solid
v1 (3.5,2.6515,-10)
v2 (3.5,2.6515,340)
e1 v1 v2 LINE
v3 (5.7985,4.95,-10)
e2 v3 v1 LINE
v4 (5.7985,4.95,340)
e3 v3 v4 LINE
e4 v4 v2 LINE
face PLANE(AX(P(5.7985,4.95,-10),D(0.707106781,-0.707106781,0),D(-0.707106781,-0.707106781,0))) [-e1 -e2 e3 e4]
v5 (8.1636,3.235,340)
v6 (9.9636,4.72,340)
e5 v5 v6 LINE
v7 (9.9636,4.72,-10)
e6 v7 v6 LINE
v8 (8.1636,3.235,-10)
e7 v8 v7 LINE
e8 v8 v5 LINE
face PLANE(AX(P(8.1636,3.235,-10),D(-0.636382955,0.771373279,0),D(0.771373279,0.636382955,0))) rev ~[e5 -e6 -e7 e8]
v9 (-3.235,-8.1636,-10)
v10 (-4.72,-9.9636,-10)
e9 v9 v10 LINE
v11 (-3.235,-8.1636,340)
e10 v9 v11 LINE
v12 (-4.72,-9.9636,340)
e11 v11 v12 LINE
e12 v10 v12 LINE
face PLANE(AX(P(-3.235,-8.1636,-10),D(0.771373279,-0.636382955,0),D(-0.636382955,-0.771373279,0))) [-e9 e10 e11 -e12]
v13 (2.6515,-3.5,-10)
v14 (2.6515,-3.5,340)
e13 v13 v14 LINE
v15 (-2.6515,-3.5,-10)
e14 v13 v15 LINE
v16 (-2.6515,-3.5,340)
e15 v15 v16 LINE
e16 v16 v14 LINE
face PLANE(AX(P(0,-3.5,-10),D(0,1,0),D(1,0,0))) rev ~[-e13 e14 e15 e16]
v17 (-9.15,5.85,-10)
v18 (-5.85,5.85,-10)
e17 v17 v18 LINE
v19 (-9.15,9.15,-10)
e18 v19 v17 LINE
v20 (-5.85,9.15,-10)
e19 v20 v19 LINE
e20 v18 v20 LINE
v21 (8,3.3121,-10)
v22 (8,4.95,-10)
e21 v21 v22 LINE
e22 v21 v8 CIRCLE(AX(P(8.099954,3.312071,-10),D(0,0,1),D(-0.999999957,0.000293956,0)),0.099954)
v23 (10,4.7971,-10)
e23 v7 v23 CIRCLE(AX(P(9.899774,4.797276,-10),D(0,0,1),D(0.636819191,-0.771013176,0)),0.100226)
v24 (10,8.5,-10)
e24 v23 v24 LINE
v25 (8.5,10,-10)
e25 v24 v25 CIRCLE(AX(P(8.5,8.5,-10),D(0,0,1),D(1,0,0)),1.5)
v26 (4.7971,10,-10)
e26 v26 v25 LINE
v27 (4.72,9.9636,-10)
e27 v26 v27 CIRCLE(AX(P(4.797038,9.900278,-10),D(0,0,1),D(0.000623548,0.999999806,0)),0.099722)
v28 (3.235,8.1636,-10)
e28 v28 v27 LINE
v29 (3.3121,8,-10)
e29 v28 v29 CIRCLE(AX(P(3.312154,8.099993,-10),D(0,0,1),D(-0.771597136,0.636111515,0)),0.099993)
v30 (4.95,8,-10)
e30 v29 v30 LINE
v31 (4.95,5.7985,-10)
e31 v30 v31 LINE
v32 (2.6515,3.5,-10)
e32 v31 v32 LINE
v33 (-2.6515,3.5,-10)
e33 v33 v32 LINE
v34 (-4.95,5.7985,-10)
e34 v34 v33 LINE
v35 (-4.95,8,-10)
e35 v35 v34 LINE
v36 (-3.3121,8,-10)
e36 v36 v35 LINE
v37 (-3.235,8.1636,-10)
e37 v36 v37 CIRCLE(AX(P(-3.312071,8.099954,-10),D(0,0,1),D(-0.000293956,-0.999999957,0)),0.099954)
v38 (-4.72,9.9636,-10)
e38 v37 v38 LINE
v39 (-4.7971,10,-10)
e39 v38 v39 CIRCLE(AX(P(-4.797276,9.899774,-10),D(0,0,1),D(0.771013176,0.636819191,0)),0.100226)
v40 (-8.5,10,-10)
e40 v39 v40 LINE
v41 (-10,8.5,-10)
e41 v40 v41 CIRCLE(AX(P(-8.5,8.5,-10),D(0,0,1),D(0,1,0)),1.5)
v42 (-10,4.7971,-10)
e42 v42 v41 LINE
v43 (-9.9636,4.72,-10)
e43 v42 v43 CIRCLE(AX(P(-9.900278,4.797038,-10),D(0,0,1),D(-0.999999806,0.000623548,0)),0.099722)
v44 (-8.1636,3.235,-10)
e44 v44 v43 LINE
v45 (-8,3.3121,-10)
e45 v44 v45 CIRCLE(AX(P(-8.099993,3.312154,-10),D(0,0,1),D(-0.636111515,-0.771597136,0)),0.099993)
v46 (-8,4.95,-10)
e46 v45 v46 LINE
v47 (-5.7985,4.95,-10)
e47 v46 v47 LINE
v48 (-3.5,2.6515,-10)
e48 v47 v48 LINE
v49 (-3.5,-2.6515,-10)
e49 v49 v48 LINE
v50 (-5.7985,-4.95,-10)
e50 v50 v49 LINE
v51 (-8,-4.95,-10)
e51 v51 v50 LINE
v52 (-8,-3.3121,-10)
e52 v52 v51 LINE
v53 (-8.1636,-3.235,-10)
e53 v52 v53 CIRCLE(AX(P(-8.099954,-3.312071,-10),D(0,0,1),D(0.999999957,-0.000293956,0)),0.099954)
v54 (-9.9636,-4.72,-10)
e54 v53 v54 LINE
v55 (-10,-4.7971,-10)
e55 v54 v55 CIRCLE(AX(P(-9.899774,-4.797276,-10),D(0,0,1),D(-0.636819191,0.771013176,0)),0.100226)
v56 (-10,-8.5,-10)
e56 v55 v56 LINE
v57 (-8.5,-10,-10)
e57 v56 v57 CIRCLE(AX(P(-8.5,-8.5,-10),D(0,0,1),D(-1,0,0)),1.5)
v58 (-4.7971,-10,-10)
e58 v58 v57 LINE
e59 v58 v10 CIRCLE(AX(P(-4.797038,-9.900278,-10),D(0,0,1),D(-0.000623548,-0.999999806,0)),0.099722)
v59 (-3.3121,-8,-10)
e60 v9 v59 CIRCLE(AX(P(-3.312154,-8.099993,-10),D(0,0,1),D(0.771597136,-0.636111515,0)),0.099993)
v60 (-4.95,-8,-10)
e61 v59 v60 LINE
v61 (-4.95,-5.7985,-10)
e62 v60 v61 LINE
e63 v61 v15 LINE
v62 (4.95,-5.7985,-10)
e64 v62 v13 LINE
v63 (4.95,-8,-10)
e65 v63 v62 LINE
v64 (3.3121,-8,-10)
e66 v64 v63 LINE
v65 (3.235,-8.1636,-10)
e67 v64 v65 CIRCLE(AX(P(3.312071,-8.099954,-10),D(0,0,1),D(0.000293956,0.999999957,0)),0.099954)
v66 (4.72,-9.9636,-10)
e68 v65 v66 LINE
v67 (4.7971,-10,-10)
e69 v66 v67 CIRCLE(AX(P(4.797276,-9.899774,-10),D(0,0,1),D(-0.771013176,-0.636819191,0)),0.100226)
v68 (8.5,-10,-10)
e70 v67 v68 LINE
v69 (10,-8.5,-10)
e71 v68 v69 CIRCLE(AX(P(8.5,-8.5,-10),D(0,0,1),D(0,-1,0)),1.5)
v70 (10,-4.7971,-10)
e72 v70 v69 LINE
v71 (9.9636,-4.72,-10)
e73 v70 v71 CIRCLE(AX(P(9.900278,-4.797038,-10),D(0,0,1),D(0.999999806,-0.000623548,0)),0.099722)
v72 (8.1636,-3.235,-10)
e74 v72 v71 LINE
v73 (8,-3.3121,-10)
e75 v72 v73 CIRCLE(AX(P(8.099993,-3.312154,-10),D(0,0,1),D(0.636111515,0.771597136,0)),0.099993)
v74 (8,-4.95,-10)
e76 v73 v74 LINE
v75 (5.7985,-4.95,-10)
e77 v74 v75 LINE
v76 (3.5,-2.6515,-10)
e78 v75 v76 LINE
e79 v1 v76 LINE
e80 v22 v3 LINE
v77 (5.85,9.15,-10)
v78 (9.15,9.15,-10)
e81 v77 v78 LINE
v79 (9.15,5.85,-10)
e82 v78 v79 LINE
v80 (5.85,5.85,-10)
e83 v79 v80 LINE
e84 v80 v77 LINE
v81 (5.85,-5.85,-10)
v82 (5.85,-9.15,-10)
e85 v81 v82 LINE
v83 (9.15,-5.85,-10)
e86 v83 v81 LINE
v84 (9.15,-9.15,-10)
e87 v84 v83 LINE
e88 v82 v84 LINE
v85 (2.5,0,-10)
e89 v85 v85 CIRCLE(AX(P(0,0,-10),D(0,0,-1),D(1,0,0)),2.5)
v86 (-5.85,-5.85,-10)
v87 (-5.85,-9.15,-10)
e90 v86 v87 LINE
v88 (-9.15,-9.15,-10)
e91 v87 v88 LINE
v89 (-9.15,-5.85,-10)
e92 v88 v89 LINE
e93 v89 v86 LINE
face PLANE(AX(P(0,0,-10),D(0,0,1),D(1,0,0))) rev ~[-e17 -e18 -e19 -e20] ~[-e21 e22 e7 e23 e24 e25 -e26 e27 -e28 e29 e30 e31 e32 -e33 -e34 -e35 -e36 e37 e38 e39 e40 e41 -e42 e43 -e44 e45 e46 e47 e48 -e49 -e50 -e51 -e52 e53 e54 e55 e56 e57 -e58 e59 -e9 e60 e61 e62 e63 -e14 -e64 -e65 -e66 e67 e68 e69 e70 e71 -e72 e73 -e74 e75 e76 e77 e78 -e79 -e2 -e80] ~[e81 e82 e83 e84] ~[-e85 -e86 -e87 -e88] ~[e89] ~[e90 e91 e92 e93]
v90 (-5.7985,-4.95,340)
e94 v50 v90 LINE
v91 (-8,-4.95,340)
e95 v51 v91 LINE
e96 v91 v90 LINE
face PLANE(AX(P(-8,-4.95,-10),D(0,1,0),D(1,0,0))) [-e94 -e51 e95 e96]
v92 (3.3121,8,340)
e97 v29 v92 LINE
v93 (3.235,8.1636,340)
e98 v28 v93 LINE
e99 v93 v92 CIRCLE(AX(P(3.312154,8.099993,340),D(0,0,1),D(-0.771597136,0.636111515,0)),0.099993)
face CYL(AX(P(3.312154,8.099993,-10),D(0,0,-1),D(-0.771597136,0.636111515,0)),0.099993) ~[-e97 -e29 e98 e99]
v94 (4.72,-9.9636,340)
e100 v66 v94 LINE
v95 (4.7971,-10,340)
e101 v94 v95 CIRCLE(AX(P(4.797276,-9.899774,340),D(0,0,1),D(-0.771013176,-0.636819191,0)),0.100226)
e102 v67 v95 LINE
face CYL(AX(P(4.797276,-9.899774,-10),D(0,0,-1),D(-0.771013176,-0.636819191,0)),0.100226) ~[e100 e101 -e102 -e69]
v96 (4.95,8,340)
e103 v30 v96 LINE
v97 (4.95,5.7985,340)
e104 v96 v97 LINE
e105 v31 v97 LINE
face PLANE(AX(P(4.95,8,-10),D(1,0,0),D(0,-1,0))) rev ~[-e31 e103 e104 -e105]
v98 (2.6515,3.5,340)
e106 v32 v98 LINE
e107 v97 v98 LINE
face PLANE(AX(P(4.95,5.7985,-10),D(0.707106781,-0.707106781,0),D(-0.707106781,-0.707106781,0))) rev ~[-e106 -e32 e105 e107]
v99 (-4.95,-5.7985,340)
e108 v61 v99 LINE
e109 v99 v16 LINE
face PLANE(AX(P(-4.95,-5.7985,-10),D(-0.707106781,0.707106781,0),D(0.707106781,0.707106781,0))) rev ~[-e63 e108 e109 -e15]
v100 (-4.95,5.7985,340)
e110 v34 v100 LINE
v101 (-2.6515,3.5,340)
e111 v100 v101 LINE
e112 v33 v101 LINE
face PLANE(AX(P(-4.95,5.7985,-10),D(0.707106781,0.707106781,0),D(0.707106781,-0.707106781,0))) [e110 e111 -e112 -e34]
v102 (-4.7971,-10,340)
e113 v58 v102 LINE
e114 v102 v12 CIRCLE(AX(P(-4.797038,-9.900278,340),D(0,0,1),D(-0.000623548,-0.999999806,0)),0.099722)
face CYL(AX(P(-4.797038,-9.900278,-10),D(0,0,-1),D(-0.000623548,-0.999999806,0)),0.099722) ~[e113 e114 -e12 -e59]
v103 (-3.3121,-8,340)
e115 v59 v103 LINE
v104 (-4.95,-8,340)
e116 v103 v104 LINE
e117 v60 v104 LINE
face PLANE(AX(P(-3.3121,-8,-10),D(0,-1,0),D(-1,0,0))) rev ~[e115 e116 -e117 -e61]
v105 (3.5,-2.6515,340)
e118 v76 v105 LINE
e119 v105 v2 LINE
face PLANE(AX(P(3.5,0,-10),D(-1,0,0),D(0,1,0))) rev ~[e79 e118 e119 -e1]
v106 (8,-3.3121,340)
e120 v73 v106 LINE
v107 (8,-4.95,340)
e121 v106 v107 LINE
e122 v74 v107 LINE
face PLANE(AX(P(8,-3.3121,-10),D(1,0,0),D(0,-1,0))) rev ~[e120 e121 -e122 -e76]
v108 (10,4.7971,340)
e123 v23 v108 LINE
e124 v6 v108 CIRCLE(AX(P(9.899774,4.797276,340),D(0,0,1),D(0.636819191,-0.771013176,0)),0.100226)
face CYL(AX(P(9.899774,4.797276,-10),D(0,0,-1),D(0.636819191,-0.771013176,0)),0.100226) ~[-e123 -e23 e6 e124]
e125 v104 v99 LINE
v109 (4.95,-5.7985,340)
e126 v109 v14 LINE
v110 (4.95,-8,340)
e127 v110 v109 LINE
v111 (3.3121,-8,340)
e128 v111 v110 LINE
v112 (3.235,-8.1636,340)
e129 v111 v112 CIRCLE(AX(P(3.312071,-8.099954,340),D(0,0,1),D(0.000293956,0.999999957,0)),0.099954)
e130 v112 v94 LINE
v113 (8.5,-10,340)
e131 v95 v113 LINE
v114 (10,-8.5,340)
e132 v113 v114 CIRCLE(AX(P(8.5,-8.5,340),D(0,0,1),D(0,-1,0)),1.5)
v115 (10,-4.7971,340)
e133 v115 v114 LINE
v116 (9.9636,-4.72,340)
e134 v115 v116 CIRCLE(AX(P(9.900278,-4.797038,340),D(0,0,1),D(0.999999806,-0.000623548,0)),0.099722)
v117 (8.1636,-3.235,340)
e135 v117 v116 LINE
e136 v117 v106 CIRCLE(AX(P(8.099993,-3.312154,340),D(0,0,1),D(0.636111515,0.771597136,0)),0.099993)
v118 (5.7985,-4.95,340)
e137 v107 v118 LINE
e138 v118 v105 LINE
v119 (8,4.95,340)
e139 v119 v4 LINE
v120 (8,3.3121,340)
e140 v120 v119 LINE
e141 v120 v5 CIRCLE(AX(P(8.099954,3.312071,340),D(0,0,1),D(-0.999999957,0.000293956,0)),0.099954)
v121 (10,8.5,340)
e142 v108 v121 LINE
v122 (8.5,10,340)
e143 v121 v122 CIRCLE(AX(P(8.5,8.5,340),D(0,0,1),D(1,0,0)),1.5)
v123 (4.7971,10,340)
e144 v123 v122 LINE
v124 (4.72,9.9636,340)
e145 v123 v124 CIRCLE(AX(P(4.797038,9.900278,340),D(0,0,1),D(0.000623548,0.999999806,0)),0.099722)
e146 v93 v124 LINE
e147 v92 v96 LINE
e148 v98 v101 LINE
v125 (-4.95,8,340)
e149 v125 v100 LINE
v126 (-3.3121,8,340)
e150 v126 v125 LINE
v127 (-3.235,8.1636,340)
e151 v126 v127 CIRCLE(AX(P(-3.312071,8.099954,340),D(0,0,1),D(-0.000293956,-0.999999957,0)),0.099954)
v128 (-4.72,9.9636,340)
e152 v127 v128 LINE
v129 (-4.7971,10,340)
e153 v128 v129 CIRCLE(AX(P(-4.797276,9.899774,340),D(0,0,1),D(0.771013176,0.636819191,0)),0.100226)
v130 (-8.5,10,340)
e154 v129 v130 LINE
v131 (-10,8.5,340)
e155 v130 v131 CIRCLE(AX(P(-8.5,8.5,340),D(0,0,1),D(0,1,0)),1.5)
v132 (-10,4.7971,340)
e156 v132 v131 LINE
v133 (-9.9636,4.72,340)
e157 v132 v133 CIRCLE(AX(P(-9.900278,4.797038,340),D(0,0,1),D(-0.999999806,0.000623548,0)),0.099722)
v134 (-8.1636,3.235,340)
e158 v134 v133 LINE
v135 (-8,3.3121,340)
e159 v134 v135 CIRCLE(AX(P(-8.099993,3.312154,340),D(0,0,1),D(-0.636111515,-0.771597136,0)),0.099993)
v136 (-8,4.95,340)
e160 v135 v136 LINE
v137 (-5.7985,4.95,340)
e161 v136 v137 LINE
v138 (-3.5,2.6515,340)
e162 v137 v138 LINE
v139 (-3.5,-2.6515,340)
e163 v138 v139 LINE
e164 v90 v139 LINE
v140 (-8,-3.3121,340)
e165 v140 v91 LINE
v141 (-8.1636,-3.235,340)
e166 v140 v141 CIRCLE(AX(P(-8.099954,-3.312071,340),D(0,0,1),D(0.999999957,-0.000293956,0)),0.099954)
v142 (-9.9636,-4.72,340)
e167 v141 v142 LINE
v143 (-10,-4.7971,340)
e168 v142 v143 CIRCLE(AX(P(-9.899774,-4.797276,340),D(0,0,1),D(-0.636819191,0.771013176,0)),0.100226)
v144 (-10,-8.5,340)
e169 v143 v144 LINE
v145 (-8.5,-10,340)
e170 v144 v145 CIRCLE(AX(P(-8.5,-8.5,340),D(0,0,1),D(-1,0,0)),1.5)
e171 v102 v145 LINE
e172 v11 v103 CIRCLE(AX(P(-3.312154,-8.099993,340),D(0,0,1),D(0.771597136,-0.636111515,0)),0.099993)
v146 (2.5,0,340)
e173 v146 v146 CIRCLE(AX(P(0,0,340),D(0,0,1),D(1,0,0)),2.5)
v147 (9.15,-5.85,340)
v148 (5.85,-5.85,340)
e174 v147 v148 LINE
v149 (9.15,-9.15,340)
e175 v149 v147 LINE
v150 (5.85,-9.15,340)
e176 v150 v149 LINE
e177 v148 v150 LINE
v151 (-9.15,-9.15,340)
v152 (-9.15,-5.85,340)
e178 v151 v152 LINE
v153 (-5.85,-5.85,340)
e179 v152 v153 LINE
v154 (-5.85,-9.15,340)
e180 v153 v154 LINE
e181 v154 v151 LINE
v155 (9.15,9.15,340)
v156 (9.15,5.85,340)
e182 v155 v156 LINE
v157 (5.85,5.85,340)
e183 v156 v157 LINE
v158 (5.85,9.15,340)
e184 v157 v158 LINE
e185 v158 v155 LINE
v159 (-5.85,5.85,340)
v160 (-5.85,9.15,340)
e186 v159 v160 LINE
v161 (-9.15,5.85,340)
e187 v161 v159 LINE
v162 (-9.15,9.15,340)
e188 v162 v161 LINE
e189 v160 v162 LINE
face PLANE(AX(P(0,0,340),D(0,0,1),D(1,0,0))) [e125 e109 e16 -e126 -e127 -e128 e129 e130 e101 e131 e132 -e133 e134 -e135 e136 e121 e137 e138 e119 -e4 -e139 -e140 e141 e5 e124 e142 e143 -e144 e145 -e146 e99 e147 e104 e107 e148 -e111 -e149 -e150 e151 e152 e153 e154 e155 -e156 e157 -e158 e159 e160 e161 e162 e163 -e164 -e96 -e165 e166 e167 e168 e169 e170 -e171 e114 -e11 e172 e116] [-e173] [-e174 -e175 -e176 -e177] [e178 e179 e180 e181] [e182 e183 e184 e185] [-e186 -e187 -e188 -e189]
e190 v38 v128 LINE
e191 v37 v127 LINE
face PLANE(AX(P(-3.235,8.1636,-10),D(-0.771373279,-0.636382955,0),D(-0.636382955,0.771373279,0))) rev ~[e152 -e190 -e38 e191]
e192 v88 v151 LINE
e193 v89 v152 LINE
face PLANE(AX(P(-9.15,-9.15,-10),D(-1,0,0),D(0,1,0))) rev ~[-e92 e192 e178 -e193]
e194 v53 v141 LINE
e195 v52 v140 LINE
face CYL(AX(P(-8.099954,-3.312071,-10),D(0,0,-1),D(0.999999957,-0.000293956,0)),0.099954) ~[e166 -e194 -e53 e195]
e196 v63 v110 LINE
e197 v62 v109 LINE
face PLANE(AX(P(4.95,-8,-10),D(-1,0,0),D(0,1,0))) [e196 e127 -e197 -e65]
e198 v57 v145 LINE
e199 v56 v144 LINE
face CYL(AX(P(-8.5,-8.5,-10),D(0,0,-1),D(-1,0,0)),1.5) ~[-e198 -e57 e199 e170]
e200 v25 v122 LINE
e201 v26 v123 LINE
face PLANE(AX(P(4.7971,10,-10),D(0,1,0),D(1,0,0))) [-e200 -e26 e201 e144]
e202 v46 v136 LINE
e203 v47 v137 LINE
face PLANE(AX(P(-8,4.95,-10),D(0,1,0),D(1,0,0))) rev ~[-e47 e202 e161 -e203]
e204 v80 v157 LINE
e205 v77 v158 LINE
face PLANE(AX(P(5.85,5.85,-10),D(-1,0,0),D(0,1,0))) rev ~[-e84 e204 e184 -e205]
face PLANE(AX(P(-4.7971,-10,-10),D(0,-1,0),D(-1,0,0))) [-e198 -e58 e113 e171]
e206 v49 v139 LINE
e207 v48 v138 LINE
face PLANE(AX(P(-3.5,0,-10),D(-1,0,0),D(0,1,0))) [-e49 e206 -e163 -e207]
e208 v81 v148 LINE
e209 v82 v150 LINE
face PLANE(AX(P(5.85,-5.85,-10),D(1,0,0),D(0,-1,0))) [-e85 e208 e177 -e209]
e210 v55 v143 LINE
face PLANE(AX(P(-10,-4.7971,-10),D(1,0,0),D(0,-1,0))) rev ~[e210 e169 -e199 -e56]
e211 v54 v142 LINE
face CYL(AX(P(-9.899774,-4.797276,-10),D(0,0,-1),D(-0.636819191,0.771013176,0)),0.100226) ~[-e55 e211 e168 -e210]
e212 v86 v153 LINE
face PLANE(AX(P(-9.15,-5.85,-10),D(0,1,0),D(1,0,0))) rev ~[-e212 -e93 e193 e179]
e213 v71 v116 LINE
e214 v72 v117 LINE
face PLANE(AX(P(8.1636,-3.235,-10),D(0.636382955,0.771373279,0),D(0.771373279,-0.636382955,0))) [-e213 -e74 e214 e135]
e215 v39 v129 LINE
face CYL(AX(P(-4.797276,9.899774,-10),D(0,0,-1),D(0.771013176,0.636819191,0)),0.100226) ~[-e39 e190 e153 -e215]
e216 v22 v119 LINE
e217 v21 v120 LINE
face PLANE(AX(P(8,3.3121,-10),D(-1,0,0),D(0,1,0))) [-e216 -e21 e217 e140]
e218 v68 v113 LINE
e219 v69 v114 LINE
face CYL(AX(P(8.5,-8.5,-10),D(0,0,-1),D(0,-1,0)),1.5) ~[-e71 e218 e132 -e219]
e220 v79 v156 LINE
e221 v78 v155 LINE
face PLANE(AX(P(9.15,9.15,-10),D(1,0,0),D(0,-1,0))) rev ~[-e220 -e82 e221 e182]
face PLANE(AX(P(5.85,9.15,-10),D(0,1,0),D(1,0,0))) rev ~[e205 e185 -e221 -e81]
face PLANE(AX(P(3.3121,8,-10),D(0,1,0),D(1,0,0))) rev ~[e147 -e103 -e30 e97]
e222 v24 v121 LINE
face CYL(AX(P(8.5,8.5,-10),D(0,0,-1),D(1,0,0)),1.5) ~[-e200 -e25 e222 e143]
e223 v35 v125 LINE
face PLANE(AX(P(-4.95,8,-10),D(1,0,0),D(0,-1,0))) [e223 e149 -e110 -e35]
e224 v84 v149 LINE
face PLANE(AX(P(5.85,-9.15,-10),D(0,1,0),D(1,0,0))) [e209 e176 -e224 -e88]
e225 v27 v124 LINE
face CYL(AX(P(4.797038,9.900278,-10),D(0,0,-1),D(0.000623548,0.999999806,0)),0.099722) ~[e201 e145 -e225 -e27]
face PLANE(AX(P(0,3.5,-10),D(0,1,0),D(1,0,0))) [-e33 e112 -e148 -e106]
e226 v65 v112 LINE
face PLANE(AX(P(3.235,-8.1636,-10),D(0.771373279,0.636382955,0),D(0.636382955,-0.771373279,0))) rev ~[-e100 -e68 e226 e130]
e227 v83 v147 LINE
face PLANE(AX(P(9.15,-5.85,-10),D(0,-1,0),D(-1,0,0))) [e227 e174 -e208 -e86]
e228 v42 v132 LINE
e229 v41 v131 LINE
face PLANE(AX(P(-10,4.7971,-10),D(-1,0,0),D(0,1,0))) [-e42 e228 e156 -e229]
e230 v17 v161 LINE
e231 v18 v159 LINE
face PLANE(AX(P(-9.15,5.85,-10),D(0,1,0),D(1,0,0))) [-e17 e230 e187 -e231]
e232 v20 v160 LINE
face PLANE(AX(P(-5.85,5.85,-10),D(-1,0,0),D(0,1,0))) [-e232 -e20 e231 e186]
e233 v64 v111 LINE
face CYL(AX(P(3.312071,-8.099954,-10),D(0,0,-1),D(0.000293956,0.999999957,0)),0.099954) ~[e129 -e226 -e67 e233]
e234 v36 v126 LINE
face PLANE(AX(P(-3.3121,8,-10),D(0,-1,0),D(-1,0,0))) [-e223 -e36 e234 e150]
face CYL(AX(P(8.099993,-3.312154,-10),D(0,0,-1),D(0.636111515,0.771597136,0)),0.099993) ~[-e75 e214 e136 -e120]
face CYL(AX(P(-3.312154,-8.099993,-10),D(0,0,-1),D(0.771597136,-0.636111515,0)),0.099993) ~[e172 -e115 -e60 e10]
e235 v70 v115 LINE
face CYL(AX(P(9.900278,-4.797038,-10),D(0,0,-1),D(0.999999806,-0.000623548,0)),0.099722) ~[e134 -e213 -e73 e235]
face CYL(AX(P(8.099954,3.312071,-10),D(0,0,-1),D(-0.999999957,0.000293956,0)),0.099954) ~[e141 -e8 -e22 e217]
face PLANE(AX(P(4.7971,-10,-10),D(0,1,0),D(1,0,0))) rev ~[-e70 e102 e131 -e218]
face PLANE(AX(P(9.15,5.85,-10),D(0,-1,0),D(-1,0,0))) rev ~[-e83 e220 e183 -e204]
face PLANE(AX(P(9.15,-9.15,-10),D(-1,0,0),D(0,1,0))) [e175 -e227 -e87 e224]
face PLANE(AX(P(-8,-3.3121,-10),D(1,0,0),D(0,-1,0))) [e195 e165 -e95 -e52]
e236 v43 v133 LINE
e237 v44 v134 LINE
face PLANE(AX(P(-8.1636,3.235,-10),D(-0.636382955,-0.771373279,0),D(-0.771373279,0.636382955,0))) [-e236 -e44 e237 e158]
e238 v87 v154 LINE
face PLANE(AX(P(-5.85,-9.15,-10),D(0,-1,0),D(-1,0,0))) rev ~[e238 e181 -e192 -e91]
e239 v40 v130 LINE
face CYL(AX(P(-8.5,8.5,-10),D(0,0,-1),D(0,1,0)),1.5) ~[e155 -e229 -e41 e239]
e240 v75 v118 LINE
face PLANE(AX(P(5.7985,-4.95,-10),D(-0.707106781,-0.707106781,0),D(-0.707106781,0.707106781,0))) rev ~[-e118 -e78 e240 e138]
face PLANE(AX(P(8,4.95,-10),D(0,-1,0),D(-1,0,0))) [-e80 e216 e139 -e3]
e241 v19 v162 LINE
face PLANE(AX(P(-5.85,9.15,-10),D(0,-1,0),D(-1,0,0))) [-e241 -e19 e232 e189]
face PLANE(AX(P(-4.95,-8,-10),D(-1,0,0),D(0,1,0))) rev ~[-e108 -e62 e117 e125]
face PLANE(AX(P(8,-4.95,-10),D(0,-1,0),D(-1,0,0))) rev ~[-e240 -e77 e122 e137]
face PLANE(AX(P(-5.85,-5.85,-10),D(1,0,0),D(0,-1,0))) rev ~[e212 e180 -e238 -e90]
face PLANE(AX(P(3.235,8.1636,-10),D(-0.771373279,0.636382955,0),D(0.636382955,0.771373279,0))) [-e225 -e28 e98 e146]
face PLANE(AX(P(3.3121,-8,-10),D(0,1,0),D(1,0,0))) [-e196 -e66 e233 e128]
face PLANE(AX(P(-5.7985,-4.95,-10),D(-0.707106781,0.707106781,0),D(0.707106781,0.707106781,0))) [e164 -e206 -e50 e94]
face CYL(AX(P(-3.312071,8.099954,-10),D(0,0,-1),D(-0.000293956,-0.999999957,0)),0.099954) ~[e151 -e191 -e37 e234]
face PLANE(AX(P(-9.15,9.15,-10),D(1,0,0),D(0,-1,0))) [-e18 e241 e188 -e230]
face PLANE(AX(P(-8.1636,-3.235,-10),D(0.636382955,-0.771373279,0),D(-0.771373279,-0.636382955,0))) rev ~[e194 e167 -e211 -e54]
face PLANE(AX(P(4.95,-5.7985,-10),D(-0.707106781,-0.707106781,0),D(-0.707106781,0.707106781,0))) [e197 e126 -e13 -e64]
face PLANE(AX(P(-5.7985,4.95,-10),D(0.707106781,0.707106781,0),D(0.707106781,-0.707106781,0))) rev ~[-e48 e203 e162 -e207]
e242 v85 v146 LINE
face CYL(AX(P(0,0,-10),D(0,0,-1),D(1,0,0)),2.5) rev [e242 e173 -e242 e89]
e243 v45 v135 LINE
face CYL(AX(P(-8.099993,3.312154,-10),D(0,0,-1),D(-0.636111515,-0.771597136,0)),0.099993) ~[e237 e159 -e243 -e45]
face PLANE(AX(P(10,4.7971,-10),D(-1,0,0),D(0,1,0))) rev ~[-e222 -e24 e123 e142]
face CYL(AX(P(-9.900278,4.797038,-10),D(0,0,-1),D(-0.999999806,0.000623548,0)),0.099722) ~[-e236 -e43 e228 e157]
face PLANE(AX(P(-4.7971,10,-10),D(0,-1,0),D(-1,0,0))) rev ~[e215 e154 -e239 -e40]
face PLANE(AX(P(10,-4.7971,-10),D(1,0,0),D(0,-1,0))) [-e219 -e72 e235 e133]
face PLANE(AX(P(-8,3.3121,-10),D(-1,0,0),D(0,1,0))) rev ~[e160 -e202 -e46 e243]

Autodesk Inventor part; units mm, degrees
ref_plane "Начальная плоскость" through (0, 0, -10) normal (0, 0, 1) x (1, 0, 0)
ref_plane "Конечная плоскость" through (0, 0, 340) normal (0, 0, 1) x (1, 0, 0)
sketch "Эскиз" plane through (0, 0, 0) normal (0, 0, 1) x (1, 0, 0)
  line L0 (-14.4349, 0) -> (14.4349, 0) projected
  line L1 (0, -14) -> (0, 14) projected
  line L2 (0, 0) -> (7.5, 7.5) construction
  circle A0 centre (7.5, 7.5) radius 1.65 construction
  line L3 (5.85, 9.15) -> (9.15, 9.15)
  line L4 (9.15, 9.15) -> (9.15, 5.85)
  line L5 (9.15, 5.85) -> (5.85, 5.85)
  line L6 (5.85, 5.85) -> (5.85, 9.15)
  line L7 (3.235, 8.1636) -> (4.72, 9.9636)
  line L8 (4.7971, 10) -> (8.5, 10)
  line L9 (3.3121, 8) -> (4.95, 8)
  line L10 (4.95, 8) -> (4.95, 5.7985)
  line L11 (4.95, 5.7985) -> (2.6515, 3.5)
  line L12 (0, 3.5) -> (2.6515, 3.5)
  circle A1 centre (0, 0) radius 2.5
  line L13 (8.1636, 3.235) -> (9.9636, 4.72)
  line L14 (10, 4.7971) -> (10, 8.5)
  line L15 (8, 3.3121) -> (8, 4.95)
  line L16 (8, 4.95) -> (5.7985, 4.95)
  line L17 (5.7985, 4.95) -> (3.5, 2.6515)
  line L18 (3.5, 0) -> (3.5, 2.6515)
  arc A2 (10, 8.5) -> (8.5, 10) centre (8.5, 8.5) ccw
  line L19 (0, 0) -> (-7.5, 7.5) construction
  circle A3 centre (-7.5, 7.5) radius 1.65 construction
  line L20 (-5.85, 9.15) -> (-9.15, 9.15)
  line L21 (-9.15, 9.15) -> (-9.15, 5.85)
  line L22 (-9.15, 5.85) -> (-5.85, 5.85)
  line L23 (-5.85, 5.85) -> (-5.85, 9.15)
  line L24 (-3.235, 8.1636) -> (-4.72, 9.9636)
  line L25 (-4.7971, 10) -> (-8.5, 10)
  line L26 (-3.3121, 8) -> (-4.95, 8)
  line L27 (-4.95, 8) -> (-4.95, 5.7985)
  line L28 (-4.95, 5.7985) -> (-2.6515, 3.5)
  line L29 (0, 3.5) -> (-2.6515, 3.5)
  line L30 (-3.5, 0) -> (-3.5, 2.6515)
  line L31 (-5.7985, 4.95) -> (-3.5, 2.6515)
  line L32 (-8, 4.95) -> (-5.7985, 4.95)
  line L33 (-8, 3.3121) -> (-8, 4.95)
  line L34 (-8.1636, 3.235) -> (-9.9636, 4.72)
  line L35 (-10, 4.7971) -> (-10, 8.5)
  arc A4 (-8.5, 10) -> (-10, 8.5) centre (-8.5, 8.5) ccw
  line L36 (0, 14) -> (0, -14)
  line L37 (0, 0) -> (7.5, -7.5) construction
  circle A5 centre (7.5, -7.5) radius 1.65 construction
  line L38 (5.85, -9.15) -> (9.15, -9.15)
  line L39 (9.15, -9.15) -> (9.15, -5.85)
  line L40 (9.15, -5.85) -> (5.85, -5.85)
  line L41 (5.85, -5.85) -> (5.85, -9.15)
  line L42 (3.235, -8.1636) -> (4.72, -9.9636)
  line L43 (4.7971, -10) -> (8.5, -10)
  line L44 (3.3121, -8) -> (4.95, -8)
  line L45 (4.95, -8) -> (4.95, -5.7985)
  line L46 (4.95, -5.7985) -> (2.6515, -3.5)
  line L47 (0, -3.5) -> (2.6515, -3.5)
  line L48 (3.5, 0) -> (3.5, -2.6515)
  line L49 (5.7985, -4.95) -> (3.5, -2.6515)
  line L50 (8, -4.95) -> (5.7985, -4.95)
  line L51 (8, -3.3121) -> (8, -4.95)
  line L52 (8.1636, -3.235) -> (9.9636, -4.72)
  line L53 (10, -4.7971) -> (10, -8.5)
  arc A6 (8.5, -10) -> (10, -8.5) centre (8.5, -8.5) ccw
  line L54 (0, 0) -> (-7.5, -7.5) construction
  line L55 (-4.95, -8) -> (-4.95, -5.7985)
  line L56 (-3.3121, -8) -> (-4.95, -8)
  line L57 (-5.7985, -4.95) -> (-3.5, -2.6515)
  line L58 (-4.95, -5.7985) -> (-2.6515, -3.5)
  line L59 (-3.5, 0) -> (-3.5, -2.6515)
  line L60 (0, -3.5) -> (-2.6515, -3.5)
  circle A7 centre (-7.5, -7.5) radius 1.65 construction
  line L61 (-5.85, -5.85) -> (-5.85, -9.15)
  line L62 (-5.85, -9.15) -> (-9.15, -9.15)
  line L63 (-9.15, -9.15) -> (-9.15, -5.85)
  line L64 (-9.15, -5.85) -> (-5.85, -5.85)
  line L65 (-3.235, -8.1636) -> (-4.72, -9.9636)
  line L66 (-8, -4.95) -> (-5.7985, -4.95)
  line L67 (-8, -3.3121) -> (-8, -4.95)
  line L68 (-8.1636, -3.235) -> (-9.9636, -4.72)
  line L69 (-4.7971, -10) -> (-8.5, -10)
  line L70 (-10, -4.7971) -> (-10, -8.5)
  arc A8 (-10, -8.5) -> (-8.5, -10) centre (-8.5, -8.5) ccw
  arc A9 (3.235, 8.1636) -> (3.3121, 8) centre (3.3121, 8.1) ccw
  arc A10 (4.7971, 10) -> (4.72, 9.9636) centre (4.7971, 9.9) ccw
  arc A11 (8, 3.3121) -> (8.1636, 3.235) centre (8.1, 3.3121) ccw
  arc A12 (9.9636, 4.72) -> (10, 4.7971) centre (9.9, 4.7971) ccw
  arc A13 (-3.3121, 8) -> (-3.235, 8.1636) centre (-3.3121, 8.1) ccw
  arc A14 (-4.72, 9.9636) -> (-4.7971, 10) centre (-4.7971, 9.9) ccw
  arc A15 (-8.1636, 3.235) -> (-8, 3.3121) centre (-8.1, 3.3121) ccw
  arc A16 (-10, 4.7971) -> (-9.9636, 4.72) centre (-9.9, 4.7971) ccw
  arc A17 (-8, -3.3121) -> (-8.1636, -3.235) centre (-8.1, -3.3121) ccw
  arc A18 (-9.9636, -4.72) -> (-10, -4.7971) centre (-9.9, -4.7971) ccw
  arc A19 (-3.235, -8.1636) -> (-3.3121, -8) centre (-3.3121, -8.1) ccw
  arc A20 (-4.7971, -10) -> (-4.72, -9.9636) centre (-4.7971, -9.9) ccw
  arc A21 (4.72, -9.9636) -> (4.7971, -10) centre (4.7971, -9.9) ccw
  arc A22 (3.3121, -8) -> (3.235, -8.1636) centre (3.3121, -8.1) ccw
  arc A23 (8.1636, -3.235) -> (8, -3.3121) centre (8.1, -3.3121) ccw
  arc A24 (10, -4.7971) -> (9.9636, -4.72) centre (9.9, -4.7971) ccw
  point P0 (3.1, 8)
  point P1 (4.75, 10)
  point P2 (7.5, 9.15)
  point P3 (8, 3.1)
  point P4 (10, 4.75)
  point P5 (7.5, 5.85)
  point P6 (9.15, 7.5)
  point P7 (-3.1, 8)
  point P8 (-4.75, 10)
  point P9 (-7.5, 9.15)
  point P10 (-8, 3.1)
  point P11 (-10, 4.75)
  point P12 (-7.5, 5.85)
  point P13 (-9.15, 7.5)
  point P14 (3.1, -8)
  point P15 (4.75, -10)
  point P16 (7.5, -9.15)
  point P17 (8, -3.1)
  point P18 (10, -4.75)
  point P19 (7.5, -5.85)
  point P20 (9.15, -7.5)
  point P21 (-3.1, -8)
  point P22 (-7.5, -5.85)
  point P23 (-7.5, -9.15)
  point P24 (-9.15, -7.5)
  point P25 (-4.75, -10)
  point P26 (-8, -3.1)
  point P27 (-10, -4.75)
  dimension "d0" = 45
  dimension "d1" = 3.3
  dimension "d2" = 1.5
  dimension "d3" = 1.2
  dimension "d4" = 5
  dimension "d5" = 6.5
  dimension "d6" = 15
  dimension "d7" = 20
  dimension "d8" = 9.9
  dimension "d9" = 9.5
  dimension "d10" = 6.2
  dimension "d11" = 2
  dimension "d18" = 0.1
  dimension "d19" = 0.1
extrude "Тело" add sketch "Эскиз" along normal up to surface (350 mm away) from surface at -10 contours A1 L1 L12 L11 L10 L9 A9 L7 A10 L8 A2 L14 A12 L13 A11 L15 L16 L17 L18 L0 | L0 L48 L49 L50 L51 A23 L52 A24 L53 A6 L43 A21 L42 A22 L44 L45 L46 L47 L1 A1 | A1 L0 L30 L31 L32 L33 A15 L34 A16 L35 A4 L25 A14 L24 A13 L26 L27 L28 L29 L1 | L1 L60 L58 L55 L56 A19 L65 A20 L69 A8 L70 A18 L68 A17 L67 L66 L57 L59 L0 A1
sketch "Эскиз2" plane through (0, 0, 0) normal (0, 0, 1) x (1, 0, 0)
  line L0 (0, 0) -> (10, 0)
ref_plane "РабПлоскость3" through (0, 0, 0) normal (0, -1, 0) x (1, 0, 0)
sketch "Эскиз3" plane through (0, 0, 0) normal (0, -1, 0) x (1, 0, 0)
  line L0 (-2, -10) -> (12, -10)
  line L1 (-2, 340) -> (12, 340)
  dimension "d25" = 350
ref_plane "РабПлоскость4" through (0, -590, -10) normal (0, 0, -1) x (-1, 0, 0)
split "Разделение1" plane through (0, -590, -10) removes the side toward (0, 0, -1)
ref_plane "РабПлоскость5" through (0, 0, -10) normal (0, 0, -1) x (-1, 0, 0)
split "Разделение2" plane through (0, 0, -10) removes the side toward (0, 0, -1)
ref_plane "РабПлоскость6" through (10, 0, 340) normal (0, 0, 1) x (1, 0, 0)
split "Разделение3" plane through (10, 0, 340) removes the side toward (0, 0, 1)
ref_plane "РабПлоскость7" through (0, -500, 340) normal (0, 0, 1) x (1, 0, 0)
split "Разделение4" plane through (0, -500, 340) removes the side toward (0, 0, 1)
properties part number "короткая палка" material "Алюминий 6061"
